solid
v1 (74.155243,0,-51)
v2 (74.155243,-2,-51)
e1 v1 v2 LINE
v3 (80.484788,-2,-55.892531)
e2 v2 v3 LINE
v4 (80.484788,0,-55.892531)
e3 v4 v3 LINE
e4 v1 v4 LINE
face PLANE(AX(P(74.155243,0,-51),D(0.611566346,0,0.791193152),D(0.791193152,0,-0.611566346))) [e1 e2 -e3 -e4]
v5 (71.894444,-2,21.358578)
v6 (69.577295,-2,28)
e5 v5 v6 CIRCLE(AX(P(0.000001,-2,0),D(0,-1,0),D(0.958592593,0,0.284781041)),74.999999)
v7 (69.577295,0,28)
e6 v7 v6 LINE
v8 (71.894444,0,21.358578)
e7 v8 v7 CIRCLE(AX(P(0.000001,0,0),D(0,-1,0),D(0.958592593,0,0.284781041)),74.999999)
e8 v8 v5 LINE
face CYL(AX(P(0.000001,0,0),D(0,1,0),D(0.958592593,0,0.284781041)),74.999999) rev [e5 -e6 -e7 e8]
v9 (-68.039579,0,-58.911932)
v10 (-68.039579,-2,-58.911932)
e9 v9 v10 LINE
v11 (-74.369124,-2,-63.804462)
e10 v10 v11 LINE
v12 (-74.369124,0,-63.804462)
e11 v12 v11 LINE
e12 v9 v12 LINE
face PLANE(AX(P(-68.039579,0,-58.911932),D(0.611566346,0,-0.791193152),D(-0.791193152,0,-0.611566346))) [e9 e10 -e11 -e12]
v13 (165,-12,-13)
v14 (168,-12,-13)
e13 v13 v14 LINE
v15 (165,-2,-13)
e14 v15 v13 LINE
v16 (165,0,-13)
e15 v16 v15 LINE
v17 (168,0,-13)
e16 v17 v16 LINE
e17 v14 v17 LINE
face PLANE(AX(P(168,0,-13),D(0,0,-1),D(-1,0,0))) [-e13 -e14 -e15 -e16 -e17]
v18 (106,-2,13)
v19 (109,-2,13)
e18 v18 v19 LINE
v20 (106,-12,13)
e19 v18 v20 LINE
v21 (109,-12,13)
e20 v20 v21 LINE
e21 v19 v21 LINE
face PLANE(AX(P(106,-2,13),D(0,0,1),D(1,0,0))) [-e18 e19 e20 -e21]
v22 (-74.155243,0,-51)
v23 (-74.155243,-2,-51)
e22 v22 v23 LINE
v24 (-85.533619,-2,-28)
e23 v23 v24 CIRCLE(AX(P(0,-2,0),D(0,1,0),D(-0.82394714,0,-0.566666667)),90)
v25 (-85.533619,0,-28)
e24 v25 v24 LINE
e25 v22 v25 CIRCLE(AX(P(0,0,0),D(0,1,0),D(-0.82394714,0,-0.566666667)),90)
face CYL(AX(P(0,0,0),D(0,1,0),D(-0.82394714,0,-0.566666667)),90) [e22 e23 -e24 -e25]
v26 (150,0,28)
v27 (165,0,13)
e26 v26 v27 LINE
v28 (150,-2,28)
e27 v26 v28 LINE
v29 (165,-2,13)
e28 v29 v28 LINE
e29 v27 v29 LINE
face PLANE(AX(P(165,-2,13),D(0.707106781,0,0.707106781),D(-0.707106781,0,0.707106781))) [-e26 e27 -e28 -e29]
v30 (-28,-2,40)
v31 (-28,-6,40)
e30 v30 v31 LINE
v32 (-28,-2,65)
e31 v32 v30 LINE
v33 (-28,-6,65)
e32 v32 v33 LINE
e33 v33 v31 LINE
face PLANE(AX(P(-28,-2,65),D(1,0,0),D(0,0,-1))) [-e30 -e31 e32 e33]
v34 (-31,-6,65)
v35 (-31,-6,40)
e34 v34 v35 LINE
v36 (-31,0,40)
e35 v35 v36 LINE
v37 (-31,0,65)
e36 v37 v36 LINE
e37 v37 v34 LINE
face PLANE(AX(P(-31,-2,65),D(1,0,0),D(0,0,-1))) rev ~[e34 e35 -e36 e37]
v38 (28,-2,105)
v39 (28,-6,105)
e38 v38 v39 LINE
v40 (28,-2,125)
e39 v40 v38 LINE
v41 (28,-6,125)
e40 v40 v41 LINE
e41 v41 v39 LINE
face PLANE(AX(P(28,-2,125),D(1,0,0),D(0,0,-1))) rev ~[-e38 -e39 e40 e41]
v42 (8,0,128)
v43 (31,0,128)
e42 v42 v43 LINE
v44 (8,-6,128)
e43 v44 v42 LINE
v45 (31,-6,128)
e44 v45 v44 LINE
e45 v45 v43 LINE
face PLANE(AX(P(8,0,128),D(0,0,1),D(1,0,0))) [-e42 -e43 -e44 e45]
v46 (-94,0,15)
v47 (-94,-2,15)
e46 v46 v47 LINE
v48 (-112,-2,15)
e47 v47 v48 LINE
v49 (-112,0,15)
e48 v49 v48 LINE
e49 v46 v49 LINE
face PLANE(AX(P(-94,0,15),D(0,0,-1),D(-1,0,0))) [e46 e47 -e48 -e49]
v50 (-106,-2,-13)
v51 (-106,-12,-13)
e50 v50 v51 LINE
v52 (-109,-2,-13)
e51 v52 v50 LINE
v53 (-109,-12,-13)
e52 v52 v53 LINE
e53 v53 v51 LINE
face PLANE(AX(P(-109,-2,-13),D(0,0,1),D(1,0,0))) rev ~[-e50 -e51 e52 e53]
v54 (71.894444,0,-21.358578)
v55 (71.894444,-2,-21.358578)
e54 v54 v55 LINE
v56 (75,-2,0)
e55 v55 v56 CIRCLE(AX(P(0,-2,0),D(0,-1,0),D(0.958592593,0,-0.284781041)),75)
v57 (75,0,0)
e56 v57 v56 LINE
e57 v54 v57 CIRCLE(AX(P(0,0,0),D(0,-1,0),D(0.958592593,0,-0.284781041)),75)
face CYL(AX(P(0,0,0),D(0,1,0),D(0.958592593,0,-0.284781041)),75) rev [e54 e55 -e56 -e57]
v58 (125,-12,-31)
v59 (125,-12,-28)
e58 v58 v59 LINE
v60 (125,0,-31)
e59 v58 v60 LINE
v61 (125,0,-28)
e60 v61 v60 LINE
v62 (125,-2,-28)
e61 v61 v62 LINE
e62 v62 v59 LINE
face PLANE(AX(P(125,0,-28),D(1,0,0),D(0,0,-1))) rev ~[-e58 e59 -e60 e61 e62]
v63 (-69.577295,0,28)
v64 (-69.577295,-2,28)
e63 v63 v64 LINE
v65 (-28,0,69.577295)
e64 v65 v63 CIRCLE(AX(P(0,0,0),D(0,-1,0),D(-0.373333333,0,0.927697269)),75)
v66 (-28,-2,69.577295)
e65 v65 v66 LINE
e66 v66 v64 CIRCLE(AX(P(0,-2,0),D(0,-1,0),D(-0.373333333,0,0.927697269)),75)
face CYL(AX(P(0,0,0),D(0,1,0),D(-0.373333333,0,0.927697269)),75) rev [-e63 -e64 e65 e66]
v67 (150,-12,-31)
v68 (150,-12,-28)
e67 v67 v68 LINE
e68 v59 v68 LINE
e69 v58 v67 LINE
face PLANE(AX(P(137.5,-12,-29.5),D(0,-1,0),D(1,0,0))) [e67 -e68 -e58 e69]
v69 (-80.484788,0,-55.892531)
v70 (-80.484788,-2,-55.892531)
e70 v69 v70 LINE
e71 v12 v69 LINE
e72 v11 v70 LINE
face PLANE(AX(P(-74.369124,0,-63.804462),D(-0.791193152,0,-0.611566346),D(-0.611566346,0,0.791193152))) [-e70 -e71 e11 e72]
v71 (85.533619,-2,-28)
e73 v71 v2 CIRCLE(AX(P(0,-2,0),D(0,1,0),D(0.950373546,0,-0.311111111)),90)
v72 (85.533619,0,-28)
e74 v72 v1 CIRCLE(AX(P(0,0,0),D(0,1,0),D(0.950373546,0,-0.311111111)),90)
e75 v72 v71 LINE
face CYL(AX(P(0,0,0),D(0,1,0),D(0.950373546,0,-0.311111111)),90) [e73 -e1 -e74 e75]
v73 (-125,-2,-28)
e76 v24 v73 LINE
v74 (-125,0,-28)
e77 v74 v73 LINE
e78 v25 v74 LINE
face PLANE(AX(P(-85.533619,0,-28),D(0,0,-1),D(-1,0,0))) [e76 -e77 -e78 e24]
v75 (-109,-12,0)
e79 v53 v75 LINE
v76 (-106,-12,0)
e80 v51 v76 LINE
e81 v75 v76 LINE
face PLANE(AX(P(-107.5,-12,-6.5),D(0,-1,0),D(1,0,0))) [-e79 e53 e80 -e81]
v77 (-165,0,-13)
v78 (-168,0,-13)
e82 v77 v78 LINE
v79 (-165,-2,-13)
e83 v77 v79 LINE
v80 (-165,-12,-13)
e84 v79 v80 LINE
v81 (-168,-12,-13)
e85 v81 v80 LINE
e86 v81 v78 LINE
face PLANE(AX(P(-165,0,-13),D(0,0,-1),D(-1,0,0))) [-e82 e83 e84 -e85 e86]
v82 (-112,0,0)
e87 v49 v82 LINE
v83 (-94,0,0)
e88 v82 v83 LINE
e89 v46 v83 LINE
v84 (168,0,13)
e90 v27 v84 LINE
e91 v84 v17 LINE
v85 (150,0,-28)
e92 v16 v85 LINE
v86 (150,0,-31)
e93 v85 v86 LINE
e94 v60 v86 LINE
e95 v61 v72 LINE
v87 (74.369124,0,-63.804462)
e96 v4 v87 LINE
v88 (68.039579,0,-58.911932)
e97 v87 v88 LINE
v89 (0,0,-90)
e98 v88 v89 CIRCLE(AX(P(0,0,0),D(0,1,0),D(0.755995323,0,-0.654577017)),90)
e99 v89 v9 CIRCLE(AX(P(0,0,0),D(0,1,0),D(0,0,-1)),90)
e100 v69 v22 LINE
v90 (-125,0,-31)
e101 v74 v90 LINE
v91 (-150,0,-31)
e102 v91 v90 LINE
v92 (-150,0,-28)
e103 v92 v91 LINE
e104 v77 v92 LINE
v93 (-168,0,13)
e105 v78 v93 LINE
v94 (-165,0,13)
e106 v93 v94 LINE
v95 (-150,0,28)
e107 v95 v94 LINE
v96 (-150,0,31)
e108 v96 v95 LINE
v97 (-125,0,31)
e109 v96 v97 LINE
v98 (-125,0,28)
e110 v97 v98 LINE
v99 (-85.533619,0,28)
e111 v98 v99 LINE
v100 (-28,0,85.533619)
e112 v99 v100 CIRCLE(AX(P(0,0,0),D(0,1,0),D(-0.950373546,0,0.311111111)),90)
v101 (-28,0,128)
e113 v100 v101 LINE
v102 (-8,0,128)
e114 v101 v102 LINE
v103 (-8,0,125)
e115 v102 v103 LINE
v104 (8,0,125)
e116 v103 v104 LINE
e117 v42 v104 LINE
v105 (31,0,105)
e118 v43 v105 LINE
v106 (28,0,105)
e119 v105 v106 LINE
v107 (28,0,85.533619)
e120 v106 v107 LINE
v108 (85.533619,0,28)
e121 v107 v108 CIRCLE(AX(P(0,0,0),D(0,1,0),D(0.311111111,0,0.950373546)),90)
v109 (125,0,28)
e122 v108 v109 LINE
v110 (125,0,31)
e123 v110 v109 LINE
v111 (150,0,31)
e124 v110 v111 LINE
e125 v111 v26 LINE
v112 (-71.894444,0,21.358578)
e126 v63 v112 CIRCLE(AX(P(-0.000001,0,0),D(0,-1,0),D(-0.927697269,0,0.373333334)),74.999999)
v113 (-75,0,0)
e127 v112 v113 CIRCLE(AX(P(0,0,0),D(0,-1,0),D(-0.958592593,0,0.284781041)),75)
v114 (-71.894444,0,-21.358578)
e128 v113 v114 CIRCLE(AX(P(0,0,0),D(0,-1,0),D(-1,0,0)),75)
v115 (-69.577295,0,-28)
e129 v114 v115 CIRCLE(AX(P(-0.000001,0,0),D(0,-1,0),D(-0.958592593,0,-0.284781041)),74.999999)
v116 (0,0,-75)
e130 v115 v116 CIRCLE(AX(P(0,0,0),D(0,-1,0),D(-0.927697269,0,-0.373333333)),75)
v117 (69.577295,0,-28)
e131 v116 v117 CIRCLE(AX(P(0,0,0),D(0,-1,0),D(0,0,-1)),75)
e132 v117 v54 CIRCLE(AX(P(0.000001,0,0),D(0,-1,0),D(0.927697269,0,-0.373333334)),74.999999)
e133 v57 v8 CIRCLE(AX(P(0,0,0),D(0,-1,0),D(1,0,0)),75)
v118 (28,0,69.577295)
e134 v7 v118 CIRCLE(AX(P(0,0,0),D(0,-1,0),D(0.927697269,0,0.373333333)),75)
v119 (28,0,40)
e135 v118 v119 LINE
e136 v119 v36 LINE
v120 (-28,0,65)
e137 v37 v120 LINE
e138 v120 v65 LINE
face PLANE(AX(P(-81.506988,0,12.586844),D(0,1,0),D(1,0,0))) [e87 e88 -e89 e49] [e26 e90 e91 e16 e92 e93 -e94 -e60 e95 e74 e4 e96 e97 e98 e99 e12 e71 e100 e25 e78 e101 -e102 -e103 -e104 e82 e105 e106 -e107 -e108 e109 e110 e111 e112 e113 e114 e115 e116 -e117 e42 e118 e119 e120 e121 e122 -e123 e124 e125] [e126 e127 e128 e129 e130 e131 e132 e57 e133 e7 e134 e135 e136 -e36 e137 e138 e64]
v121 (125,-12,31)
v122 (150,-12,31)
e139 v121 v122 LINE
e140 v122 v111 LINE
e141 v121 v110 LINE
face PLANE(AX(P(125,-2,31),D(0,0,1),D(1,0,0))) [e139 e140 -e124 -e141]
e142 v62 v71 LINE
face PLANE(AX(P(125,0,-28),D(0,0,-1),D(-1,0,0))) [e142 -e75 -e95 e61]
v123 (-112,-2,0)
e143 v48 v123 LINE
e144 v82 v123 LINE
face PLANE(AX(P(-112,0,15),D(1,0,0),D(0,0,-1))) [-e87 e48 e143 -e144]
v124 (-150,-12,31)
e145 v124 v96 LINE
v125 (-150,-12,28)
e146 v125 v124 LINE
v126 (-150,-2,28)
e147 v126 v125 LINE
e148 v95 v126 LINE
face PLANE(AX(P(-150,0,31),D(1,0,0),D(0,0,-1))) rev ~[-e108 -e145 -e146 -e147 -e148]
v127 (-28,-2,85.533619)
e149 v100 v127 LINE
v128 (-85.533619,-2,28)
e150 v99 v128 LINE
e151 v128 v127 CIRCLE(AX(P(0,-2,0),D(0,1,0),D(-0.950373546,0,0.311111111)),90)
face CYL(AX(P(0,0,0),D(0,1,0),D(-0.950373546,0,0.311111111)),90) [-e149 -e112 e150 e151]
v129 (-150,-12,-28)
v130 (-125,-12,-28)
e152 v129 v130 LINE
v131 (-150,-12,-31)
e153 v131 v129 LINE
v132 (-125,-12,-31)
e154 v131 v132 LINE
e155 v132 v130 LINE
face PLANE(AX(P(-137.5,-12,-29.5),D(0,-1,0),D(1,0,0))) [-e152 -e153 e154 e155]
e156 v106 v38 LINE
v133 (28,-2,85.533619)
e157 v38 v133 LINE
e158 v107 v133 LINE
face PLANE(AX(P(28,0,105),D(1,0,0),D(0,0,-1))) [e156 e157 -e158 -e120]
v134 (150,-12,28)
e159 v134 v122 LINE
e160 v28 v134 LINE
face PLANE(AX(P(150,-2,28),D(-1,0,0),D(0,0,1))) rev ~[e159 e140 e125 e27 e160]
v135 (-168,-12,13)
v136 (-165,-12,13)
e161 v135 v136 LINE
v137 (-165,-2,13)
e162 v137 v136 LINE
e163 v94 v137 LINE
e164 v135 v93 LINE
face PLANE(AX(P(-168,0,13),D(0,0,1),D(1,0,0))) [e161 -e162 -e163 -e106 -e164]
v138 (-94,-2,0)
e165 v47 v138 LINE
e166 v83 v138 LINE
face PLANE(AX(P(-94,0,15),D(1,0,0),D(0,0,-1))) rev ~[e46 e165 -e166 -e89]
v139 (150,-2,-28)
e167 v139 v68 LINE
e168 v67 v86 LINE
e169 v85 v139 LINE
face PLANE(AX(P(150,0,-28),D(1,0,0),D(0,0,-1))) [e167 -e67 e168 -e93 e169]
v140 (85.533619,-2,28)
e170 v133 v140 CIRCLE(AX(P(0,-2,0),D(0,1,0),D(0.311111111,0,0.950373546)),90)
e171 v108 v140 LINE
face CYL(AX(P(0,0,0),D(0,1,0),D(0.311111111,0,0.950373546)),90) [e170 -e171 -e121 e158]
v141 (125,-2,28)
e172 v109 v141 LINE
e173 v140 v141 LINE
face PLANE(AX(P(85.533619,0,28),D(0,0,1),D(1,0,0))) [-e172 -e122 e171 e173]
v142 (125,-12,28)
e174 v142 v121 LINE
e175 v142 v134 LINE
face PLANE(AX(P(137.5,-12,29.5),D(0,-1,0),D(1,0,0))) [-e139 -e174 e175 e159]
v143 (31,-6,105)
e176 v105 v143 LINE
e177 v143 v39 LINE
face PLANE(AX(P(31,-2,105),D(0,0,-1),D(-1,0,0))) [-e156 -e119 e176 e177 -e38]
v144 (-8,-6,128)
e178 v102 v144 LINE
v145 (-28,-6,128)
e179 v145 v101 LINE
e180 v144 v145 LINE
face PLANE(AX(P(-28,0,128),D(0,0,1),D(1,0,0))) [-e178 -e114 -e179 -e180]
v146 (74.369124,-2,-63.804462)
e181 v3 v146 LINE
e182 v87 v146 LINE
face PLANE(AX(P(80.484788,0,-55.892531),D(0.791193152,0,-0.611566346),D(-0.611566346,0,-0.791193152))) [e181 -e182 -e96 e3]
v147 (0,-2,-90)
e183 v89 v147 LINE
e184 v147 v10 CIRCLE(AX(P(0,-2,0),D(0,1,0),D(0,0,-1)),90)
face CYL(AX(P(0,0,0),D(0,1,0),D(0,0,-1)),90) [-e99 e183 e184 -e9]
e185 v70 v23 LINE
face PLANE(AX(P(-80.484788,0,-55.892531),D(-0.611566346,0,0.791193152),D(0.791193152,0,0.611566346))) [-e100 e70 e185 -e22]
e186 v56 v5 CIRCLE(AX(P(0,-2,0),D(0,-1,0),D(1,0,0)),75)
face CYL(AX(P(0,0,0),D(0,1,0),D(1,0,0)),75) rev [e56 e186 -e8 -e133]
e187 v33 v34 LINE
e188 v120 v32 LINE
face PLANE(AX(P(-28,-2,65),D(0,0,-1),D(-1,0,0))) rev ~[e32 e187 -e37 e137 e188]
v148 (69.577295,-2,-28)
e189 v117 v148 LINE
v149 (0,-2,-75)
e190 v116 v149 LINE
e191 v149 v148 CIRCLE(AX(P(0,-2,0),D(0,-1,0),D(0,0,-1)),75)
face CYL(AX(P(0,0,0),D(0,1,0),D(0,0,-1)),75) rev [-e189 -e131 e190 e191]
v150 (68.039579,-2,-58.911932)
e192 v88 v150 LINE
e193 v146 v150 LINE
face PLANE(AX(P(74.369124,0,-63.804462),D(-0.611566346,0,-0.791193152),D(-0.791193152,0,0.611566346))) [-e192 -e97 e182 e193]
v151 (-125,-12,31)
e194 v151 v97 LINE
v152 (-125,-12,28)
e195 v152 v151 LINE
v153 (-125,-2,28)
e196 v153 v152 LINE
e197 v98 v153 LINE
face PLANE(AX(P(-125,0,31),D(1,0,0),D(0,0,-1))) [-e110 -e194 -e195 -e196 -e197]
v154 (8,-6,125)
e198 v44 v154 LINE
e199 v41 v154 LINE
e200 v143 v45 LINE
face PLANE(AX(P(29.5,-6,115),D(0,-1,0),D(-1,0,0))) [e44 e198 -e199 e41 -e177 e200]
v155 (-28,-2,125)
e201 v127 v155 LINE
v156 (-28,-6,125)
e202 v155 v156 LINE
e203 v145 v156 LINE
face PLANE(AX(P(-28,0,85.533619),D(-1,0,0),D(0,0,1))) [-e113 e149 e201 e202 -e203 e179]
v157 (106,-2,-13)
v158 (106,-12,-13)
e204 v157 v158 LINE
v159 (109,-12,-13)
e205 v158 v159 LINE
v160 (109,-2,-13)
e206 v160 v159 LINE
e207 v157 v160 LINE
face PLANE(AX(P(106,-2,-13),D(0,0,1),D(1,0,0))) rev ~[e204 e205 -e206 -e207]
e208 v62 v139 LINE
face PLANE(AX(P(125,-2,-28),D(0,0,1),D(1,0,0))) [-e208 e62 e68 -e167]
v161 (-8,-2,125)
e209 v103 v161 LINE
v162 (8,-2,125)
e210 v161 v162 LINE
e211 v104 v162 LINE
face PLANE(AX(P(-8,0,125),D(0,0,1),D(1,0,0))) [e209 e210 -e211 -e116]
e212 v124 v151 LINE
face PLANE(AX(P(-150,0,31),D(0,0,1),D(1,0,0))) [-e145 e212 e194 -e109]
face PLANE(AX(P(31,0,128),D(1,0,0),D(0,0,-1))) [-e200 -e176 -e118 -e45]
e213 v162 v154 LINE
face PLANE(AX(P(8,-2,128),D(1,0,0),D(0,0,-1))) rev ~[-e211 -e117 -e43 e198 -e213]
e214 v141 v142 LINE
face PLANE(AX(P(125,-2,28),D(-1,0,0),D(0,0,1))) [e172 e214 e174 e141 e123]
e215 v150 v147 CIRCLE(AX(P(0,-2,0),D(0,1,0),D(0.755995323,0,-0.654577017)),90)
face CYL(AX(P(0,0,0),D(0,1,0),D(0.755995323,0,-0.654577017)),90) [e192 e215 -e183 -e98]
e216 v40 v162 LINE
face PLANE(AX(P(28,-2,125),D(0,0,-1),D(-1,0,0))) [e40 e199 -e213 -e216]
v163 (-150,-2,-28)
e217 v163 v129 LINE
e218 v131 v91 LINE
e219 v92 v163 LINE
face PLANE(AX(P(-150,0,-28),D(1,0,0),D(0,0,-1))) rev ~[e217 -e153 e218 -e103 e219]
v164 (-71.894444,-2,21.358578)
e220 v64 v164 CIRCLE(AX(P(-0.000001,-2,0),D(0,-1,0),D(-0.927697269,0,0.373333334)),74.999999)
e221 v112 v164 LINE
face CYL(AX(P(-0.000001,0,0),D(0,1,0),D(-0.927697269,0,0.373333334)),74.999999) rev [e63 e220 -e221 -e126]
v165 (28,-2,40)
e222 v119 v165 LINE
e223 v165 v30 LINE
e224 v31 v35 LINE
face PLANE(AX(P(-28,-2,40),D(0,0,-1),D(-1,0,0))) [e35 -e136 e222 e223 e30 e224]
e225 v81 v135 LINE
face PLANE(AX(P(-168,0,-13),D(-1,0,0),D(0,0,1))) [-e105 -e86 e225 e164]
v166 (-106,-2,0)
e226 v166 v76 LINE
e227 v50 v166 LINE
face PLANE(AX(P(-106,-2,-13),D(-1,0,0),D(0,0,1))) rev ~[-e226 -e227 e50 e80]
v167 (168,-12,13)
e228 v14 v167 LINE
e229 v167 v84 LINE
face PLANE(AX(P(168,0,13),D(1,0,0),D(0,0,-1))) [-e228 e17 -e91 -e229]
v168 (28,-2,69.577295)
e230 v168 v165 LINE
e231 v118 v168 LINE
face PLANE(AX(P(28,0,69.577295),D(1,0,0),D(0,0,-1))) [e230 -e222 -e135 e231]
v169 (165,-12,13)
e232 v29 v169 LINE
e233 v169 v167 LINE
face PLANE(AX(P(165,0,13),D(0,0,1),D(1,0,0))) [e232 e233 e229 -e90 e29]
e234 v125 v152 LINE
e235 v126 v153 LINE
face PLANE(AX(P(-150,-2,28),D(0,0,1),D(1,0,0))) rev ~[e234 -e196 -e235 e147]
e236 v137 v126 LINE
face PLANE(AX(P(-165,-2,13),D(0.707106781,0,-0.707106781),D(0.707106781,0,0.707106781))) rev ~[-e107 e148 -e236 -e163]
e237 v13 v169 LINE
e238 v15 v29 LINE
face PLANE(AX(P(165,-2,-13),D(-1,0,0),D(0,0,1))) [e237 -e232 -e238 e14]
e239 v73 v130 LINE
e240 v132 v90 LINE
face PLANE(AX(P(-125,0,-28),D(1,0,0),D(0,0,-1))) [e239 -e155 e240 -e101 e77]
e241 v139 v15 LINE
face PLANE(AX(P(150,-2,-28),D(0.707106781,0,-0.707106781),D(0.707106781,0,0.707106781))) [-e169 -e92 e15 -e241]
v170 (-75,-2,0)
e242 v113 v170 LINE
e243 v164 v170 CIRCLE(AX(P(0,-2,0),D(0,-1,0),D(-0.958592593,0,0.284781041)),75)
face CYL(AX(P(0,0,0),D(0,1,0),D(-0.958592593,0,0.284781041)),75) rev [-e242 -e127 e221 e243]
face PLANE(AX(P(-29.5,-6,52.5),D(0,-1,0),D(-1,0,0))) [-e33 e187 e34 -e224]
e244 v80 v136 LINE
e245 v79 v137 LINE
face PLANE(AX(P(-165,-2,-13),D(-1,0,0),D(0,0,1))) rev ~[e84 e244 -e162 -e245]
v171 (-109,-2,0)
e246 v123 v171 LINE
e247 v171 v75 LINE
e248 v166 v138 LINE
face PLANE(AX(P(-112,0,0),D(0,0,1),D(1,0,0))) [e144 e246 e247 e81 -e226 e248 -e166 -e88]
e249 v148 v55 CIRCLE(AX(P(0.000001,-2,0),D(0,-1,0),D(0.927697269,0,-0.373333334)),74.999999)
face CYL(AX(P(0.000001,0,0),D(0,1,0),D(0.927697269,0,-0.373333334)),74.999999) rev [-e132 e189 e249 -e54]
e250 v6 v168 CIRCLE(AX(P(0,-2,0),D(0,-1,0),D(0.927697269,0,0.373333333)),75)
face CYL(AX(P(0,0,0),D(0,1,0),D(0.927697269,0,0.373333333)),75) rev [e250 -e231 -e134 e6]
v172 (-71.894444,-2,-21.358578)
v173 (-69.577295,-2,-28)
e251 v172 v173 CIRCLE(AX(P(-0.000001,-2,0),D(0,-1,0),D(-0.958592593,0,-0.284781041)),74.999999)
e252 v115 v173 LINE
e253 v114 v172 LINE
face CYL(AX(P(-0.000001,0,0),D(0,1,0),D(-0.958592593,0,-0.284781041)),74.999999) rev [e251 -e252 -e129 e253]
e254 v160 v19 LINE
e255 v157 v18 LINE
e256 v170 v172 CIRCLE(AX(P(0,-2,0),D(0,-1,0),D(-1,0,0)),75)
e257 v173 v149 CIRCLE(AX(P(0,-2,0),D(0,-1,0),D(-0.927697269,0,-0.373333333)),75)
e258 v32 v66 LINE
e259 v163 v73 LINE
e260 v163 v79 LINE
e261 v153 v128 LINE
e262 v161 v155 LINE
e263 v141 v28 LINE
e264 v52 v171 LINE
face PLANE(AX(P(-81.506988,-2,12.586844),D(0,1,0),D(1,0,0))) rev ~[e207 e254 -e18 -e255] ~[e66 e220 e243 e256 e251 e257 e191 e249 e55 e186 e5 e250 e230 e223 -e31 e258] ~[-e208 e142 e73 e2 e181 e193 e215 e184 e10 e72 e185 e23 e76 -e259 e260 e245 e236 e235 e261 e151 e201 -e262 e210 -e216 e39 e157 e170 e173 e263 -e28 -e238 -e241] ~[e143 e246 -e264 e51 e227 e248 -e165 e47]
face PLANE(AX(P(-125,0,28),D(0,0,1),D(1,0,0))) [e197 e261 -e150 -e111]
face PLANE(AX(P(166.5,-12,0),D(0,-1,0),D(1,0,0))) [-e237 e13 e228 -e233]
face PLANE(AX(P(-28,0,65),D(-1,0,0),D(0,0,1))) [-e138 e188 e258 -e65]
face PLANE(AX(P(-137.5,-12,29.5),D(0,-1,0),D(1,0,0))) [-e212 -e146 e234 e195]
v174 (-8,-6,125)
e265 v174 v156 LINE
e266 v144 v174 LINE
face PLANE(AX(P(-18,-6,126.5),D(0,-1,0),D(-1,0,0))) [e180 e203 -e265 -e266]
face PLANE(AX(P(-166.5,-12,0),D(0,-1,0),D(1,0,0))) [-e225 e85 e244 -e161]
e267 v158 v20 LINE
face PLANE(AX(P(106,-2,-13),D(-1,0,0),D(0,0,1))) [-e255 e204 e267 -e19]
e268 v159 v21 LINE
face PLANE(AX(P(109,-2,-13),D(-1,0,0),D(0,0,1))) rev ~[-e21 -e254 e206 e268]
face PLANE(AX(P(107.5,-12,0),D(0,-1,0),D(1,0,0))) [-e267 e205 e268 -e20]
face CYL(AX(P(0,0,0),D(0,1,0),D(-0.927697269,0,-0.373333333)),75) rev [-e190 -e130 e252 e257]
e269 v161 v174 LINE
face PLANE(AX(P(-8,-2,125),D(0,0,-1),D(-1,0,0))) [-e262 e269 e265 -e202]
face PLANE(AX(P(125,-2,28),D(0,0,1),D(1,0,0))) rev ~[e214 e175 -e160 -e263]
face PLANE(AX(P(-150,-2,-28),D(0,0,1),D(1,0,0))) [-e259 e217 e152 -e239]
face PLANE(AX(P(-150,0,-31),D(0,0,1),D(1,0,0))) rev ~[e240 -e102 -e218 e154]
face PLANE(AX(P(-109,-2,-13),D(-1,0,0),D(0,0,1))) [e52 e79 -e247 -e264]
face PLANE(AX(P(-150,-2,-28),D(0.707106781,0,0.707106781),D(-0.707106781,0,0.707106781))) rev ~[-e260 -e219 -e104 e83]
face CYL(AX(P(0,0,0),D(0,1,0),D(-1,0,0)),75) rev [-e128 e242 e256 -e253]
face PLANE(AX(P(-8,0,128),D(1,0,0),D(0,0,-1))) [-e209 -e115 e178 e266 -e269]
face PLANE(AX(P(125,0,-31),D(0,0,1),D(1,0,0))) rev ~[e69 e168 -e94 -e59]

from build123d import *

# Parameters (mm, degrees)
SKETCH1_W           = 25
SKETCH1_H           = 3
SKETCH1_W_2         = 3
SKETCH1_H_2         = 9
SKETCH1_W_3         = 4
SKETCH1_H_3         = 4
SKETCH1_H_4         = 15
SKETCH1_W_4         = 20
SKETCH1_H_5         = 25
SKETCH1_H_6         = 13
BOSS_EXTRUDE3_DEPTH = 2
SKETCH2_W           = 25
SKETCH2_H           = 3
SKETCH2_W_2         = 3
SKETCH2_H_2         = 26
SKETCH2_H_3         = 13
BOSS_EXTRUDE4_DEPTH = 10
SKETCH3_W           = 3
SKETCH3_H           = 25
SKETCH3_H_2         = 20
SKETCH3_W_2         = 23
SKETCH3_H_3         = 3
SKETCH3_W_3         = 20
BOSS_EXTRUDE5_DEPTH = 4
CUT_EXTRUDE1_DEPTH  = 10


with BuildPart() as part:
    # Sketch1 → Boss-Extrude3 (new body)
    with BuildSketch(Plane(origin=(0, 0, 0), x_dir=(1, 0, 0), z_dir=(0, 1, 0))):
        with BuildLine():
            ThreePointArc((-90, 0), (-88.904443084, -14), (-85.644444444, -27.65916007))
            ThreePointArc((-85.644444444, -27.65916007), (-78.335965046, -25.45486768), (-71.894444444, -21.35857809))
            ThreePointArc((-71.894444444, -21.35857809), (-74.219550434, -10.791586229), (-75, 0))
            Line((-75, 0), (-90, 0))
        make_face()
        with BuildLine():
            ThreePointArc((-85.644444444, 27.65916007), (-88.904443084, 14), (-90, 0))
            Line((-90, 0), (-75, 0))
            ThreePointArc((-75, 0), (-74.219550434, 10.791586229), (-71.894444444, 21.35857809))
            ThreePointArc((-71.894444444, 21.35857809), (-78.335965046, 25.45486768), (-85.644444444, 27.65916007))
        make_face()
        with BuildLine():
            ThreePointArc((-90, 0), (-88.904443084, -14), (-85.644444444, -27.65916007))
            ThreePointArc((-85.644444444, -27.65916007), (-78.335965046, -25.45486768), (-71.894444444, -21.35857809))
            ThreePointArc((-71.894444444, -21.35857809), (-74.219550434, -10.791586229), (-75, 0))
            Line((-75, 0), (-90, 0))
        make_face()
        with BuildLine():
            ThreePointArc((-85.644444444, 27.65916007), (-88.904443084, 14), (-90, 0))
            Line((-90, 0), (-75, 0))
            ThreePointArc((-75, 0), (-74.219550434, 10.791586229), (-71.894444444, 21.35857809))
            ThreePointArc((-71.894444444, 21.35857809), (-78.335965046, 25.45486768), (-85.644444444, 27.65916007))
        make_face()
        with BuildLine():
            ThreePointArc((-85.644444444, -27.65916007), (-85.589201448, -27.829635202), (-85.533619121, -28))
            Line((-85.533619121, -28), (-69.577295147, -28))
            ThreePointArc((-69.577295147, -28), (-70.813772651, -24.706468849), (-71.894444444, -21.35857809))
            ThreePointArc((-71.894444444, -21.35857809), (-78.335965046, -25.45486768), (-85.644444444, -27.65916007))
        make_face()
        with BuildLine():
            ThreePointArc((-85.533619121, -28), (-63.639610307, -63.639610307), (-28, -85.533619121))
            Line((-28, -85.533619121), (-28, -69.577295147))
            ThreePointArc((-28, -69.577295147), (-53.033008589, -53.033008589), (-69.577295147, -28))
            Line((-69.577295147, -28), (-85.533619121, -28))
        make_face()
        with BuildLine():
            ThreePointArc((-85.533619121, 28), (-85.589201448, 27.829635202), (-85.644444444, 27.65916007))
            ThreePointArc((-85.644444444, 27.65916007), (-78.335965046, 25.45486768), (-71.894444444, 21.35857809))
            ThreePointArc((-71.894444444, 21.35857809), (-70.813772651, 24.706468849), (-69.577295147, 28))
            Line((-69.577295147, 28), (-85.533619121, 28))
        make_face()
        with BuildLine():
            ThreePointArc((-69.577295147, 28), (-41.982139059, 62.149014473), (0, 75))
            Line((0, 75), (0, 90))
            ThreePointArc((0, 90), (-37.402714895, 81.859861461), (-68.039579102, 58.911931521))
            Line((-68.039579102, 58.911931521), (-74.155242566, 51))
            ThreePointArc((-74.155242566, 51), (-80.668352758, 39.907604078), (-85.533619121, 28))
            Line((-85.533619121, 28), (-69.577295147, 28))
        make_face()
        with BuildLine():
            Line((-80.484787783, 55.892530771), (-74.155242566, 51))
            ThreePointArc((-74.155242566, 51), (-71.207383693, 55.040971172), (-68.039579102, 58.911931521))
            Line((-68.039579102, 58.911931521), (-74.369124319, 63.804462292))
            Line((-74.369124319, 63.804462292), (-80.484787783, 55.892530771))
        make_face()
        with BuildLine():
            Line((0, 90), (0, 75))
            ThreePointArc((0, 75), (41.982139059, 62.149014473), (69.577295147, 28))
            Line((69.577295147, 28), (85.533619121, 28))
            ThreePointArc((85.533619121, 28), (80.668352758, 39.907604078), (74.155242566, 51))
            Line((74.155242566, 51), (68.039579102, 58.911931521))
            ThreePointArc((68.039579102, 58.911931521), (37.402714895, 81.859861461), (0, 90))
        make_face()
        with BuildLine():
            ThreePointArc((68.039579102, 58.911931521), (71.207383693, 55.040971172), (74.155242566, 51))
            Line((74.155242566, 51), (80.484787783, 55.892530771))
            Line((80.484787783, 55.892530771), (74.369124319, 63.804462292))
            Line((74.369124319, 63.804462292), (68.039579102, 58.911931521))
        make_face()
        with BuildLine():
            ThreePointArc((71.894444444, 21.35857809), (78.335965046, 25.45486768), (85.644444444, 27.65916007))
            ThreePointArc((85.644444444, 27.65916007), (85.589201448, 27.829635202), (85.533619121, 28))
            Line((85.533619121, 28), (69.577295147, 28))
            ThreePointArc((69.577295147, 28), (70.813772651, 24.706468849), (71.894444444, 21.35857809))
        make_face()
        with BuildLine():
            Line((68.039579102, 58.911931521), (74.155242566, 51))
            ThreePointArc((74.155242566, 51), (71.207383693, 55.040971172), (68.039579102, 58.911931521))
        make_face()
        with BuildLine():
            ThreePointArc((-68.039579102, 58.911931521), (-71.207383693, 55.040971172), (-74.155242566, 51))
            Line((-74.155242566, 51), (-68.039579102, 58.911931521))
        make_face()
        with BuildLine():
            ThreePointArc((71.894444444, -21.35857809), (78.335965046, -25.45486768), (85.644444444, -27.65916007))
            ThreePointArc((85.644444444, -27.65916007), (88.904443084, -14), (90, 0))
            Line((90, 0), (75, 0))
            ThreePointArc((75, 0), (74.219550434, -10.791586229), (71.894444444, -21.35857809))
        make_face()
        with BuildLine():
            Line((75, 0), (90, 0))
            ThreePointArc((90, 0), (88.904443084, 14), (85.644444444, 27.65916007))
            ThreePointArc((85.644444444, 27.65916007), (78.335965046, 25.45486768), (71.894444444, 21.35857809))
            ThreePointArc((71.894444444, 21.35857809), (74.219550434, 10.791586229), (75, 0))
        make_face()
        with BuildLine():
            ThreePointArc((71.894444444, -21.35857809), (78.335965046, -25.45486768), (85.644444444, -27.65916007))
            ThreePointArc((85.644444444, -27.65916007), (88.904443084, -14), (90, 0))
            Line((90, 0), (75, 0))
            ThreePointArc((75, 0), (74.219550434, -10.791586229), (71.894444444, -21.35857809))
        make_face()
        with BuildLine():
            Line((75, 0), (90, 0))
            ThreePointArc((90, 0), (88.904443084, 14), (85.644444444, 27.65916007))
            ThreePointArc((85.644444444, 27.65916007), (78.335965046, 25.45486768), (71.894444444, 21.35857809))
            ThreePointArc((71.894444444, 21.35857809), (74.219550434, 10.791586229), (75, 0))
        make_face()
        with BuildLine():
            Line((69.577295147, -28), (85.533619121, -28))
            ThreePointArc((85.533619121, -28), (85.589201448, -27.829635202), (85.644444444, -27.65916007))
            ThreePointArc((85.644444444, -27.65916007), (78.335965046, -25.45486768), (71.894444444, -21.35857809))
            ThreePointArc((71.894444444, -21.35857809), (70.813772651, -24.706468849), (69.577295147, -28))
        make_face()
        with BuildLine():
            Line((28, -69.577295147), (28, -85.533619121))
            ThreePointArc((28, -85.533619121), (63.639610307, -63.639610307), (85.533619121, -28))
            Line((85.533619121, -28), (69.577295147, -28))
            ThreePointArc((69.577295147, -28), (53.033008589, -53.033008589), (28, -69.577295147))
        make_face()
        with BuildLine():
            ThreePointArc((-28, -85.533619121), (-14.176993318, -88.876390906), (0, -90))
            Line((0, -90), (0, -75))
            ThreePointArc((0, -75), (-14.260134361, -73.631844796), (-28, -69.577295147))
            Line((-28, -69.577295147), (-28, -85.533619121))
        make_face()
        with BuildLine():
            Line((0, -75), (0, -90))
            ThreePointArc((0, -90), (14.176993318, -88.876390906), (28, -85.533619121))
            Line((28, -85.533619121), (28, -69.577295147))
            ThreePointArc((28, -69.577295147), (14.260134361, -73.631844796), (0, -75))
        make_face()
        with BuildLine():
            Line((-165, 4), (-117.712812921, 4))
            ThreePointArc((-117.712812921, 4), (-115.733245539, 11.036307083), (-112, 17.320508076))
            Line((-112, 17.320508076), (-112, 28))
            Line((-112, 28), (-125, 28))
            Line((-125, 28), (-150, 28))
            Line((-150, 28), (-165, 28))
            Line((-165, 28), (-165, 13))
            Line((-165, 13), (-165, 4))
        make_face()
        with BuildLine():
            ThreePointArc((-112, 17.320508076), (-102.227546235, 25.189027632), (-90, 28))
            Line((-90, 28), (-112, 28))
            Line((-112, 28), (-112, 17.320508076))
        make_face()
        with Locations((-137.5, 29.5)):
            Rectangle(SKETCH1_W, SKETCH1_H)
        with BuildLine():
            Line((-165, 0), (-118, 0))
            ThreePointArc((-118, 0), (-117.928110944, 2.00514815), (-117.712812921, 4))
            Line((-117.712812921, 4), (-165, 4))
            Line((-165, 4), (-165, 0))
        make_face()
        with BuildLine():
            Line((-165, -15), (-113.643180835, -15))
            ThreePointArc((-113.643180835, -15), (-116.888743587, -7.809959559), (-118, 0))
            Line((-118, 0), (-165, 0))
            Line((-165, 0), (-165, -13))
            Line((-165, -13), (-165, -15))
        make_face()
        Polygon((-168, -13), (-165, -13), (-165, 0), (-165, 4), (-165, 13), (-168, 13), align=None)
        with BuildLine():
            Line((-118, 0), (-112, 0))
            Line((-112, 0), (-112, 4))
            Line((-112, 4), (-117.712812921, 4))
            ThreePointArc((-117.712812921, 4), (-117.928110944, 2.00514815), (-118, 0))
        make_face()
        with BuildLine():
            Line((-117.712812921, 4), (-112, 4))
            Line((-112, 4), (-112, 13))
            Line((-112, 13), (-112, 17.320508076))
            ThreePointArc((-112, 17.320508076), (-115.733245539, 11.036307083), (-117.712812921, 4))
        make_face()
        with BuildLine():
            Line((-113.643180835, -15), (-112, -15))
            Line((-112, -15), (-112, 0))
            Line((-112, 0), (-118, 0))
            ThreePointArc((-118, 0), (-116.888743587, -7.809959559), (-113.643180835, -15))
        make_face()
        with Locations((-110.5, 8.5)):
            Rectangle(SKETCH1_W_2, SKETCH1_H_2)
        with BuildLine():
            Line((-94, 4), (-90, 4))
            Line((-90, 4), (-90, 28))
            ThreePointArc((-90, 28), (-102.227546235, 25.189027632), (-112, 17.320508076))
            Line((-112, 17.320508076), (-112, 13))
            Line((-112, 13), (-109, 13))
            Line((-109, 13), (-109, 4))
            Line((-109, 4), (-94, 4))
        make_face()
        with BuildLine():
            Line((-90, -15), (-90, -28))
            ThreePointArc((-90, -28), (-87.815564372, -27.914659965), (-85.644444444, -27.65916007))
            ThreePointArc((-85.644444444, -27.65916007), (-88.904443084, -14), (-90, 0))
            Line((-90, 0), (-90, -15))
        make_face()
        with BuildLine():
            Line((-90, 4), (-90, 0))
            ThreePointArc((-90, 0), (-88.904443084, 14), (-85.644444444, 27.65916007))
            ThreePointArc((-85.644444444, 27.65916007), (-87.815564372, 27.914659965), (-90, 28))
            Line((-90, 28), (-90, 4))
        make_face()
        Polygon((-112, 0), (-94, 0), (-94, 4), (-109, 4), (-112, 4), align=None)
        with Locations((-92, 2)):
            Rectangle(SKETCH1_W_3, SKETCH1_H_3)
        with Locations((-92, -7.5)):
            Rectangle(SKETCH1_W_3, SKETCH1_H_4)
        with BuildLine():
            Line((-125, -28), (-112, -28))
            Line((-112, -28), (-112, -17.320508076))
            ThreePointArc((-112, -17.320508076), (-112.851065153, -16.181125467), (-113.643180835, -15))
            Line((-113.643180835, -15), (-165, -15))
            Line((-165, -15), (-165, -28))
            Line((-165, -28), (-150, -28))
            Line((-150, -28), (-125, -28))
        make_face()
        with Locations((-137.5, -29.5)):
            Rectangle(SKETCH1_W, SKETCH1_H)
        with BuildLine():
            ThreePointArc((-113.643180835, -15), (-112.851065153, -16.181125467), (-112, -17.320508076))
            Line((-112, -17.320508076), (-112, -15))
            Line((-112, -15), (-113.643180835, -15))
        make_face()
        with BuildLine():
            ThreePointArc((-112, -17.320508076), (-102.227546235, -25.189027632), (-90, -28))
            Line((-90, -28), (-90, -15))
            Line((-90, -15), (-94, -15))
            Line((-94, -15), (-112, -15))
            Line((-112, -15), (-112, -17.320508076))
        make_face()
        with BuildLine():
            Line((-112, -28), (-90, -28))
            ThreePointArc((-90, -28), (-102.227546235, -25.189027632), (-112, -17.320508076))
            Line((-112, -17.320508076), (-112, -28))
        make_face()
        with BuildLine():
            Line((-90, -15), (-90, -28))
            ThreePointArc((-90, -28), (-87.815564372, -27.914659965), (-85.644444444, -27.65916007))
            ThreePointArc((-85.644444444, -27.65916007), (-88.904443084, -14), (-90, 0))
            Line((-90, 0), (-90, -15))
        make_face()
        with BuildLine():
            Line((-90, 4), (-90, 0))
            ThreePointArc((-90, 0), (-88.904443084, 14), (-85.644444444, 27.65916007))
            ThreePointArc((-85.644444444, 27.65916007), (-87.815564372, 27.914659965), (-90, 28))
            Line((-90, 28), (-90, 4))
        make_face()
        with BuildLine():
            Line((-90, -28), (-85.533619121, -28))
            ThreePointArc((-85.533619121, -28), (-85.589201448, -27.829635202), (-85.644444444, -27.65916007))
            ThreePointArc((-85.644444444, -27.65916007), (-87.815564372, -27.914659965), (-90, -28))
        make_face()
        with BuildLine():
            ThreePointArc((28, -85.533619121), (14.176993318, -88.876390906), (0, -90))
            ThreePointArc((0, -90), (-14.176993318, -88.876390906), (-28, -85.533619121))
            Line((-28, -85.533619121), (-28, -125))
            Line((-28, -125), (-8, -125))
            Line((-8, -125), (8, -125))
            Line((8, -125), (28, -125))
            Line((28, -125), (28, -105))
            Line((28, -105), (28, -85.533619121))
        make_face()
        with Locations((-18, -126.5)):
            Rectangle(SKETCH1_W_4, SKETCH1_H)
        with Locations((18, -126.5)):
            Rectangle(SKETCH1_W_4, SKETCH1_H)
        Polygon((31, -105), (28, -105), (28, -125), (28, -128), (31, -128), align=None)
        with BuildLine():
            ThreePointArc((-28, -69.577295147), (-14.260134361, -73.631844796), (0, -75))
            Line((0, -75), (0, -40))
            Line((0, -40), (-28, -40))
            Line((-28, -40), (-28, -65))
            Line((-28, -65), (-28, -69.577295147))
        make_face()
        with BuildLine():
            Line((0, -40), (0, -75))
            ThreePointArc((0, -75), (14.260134361, -73.631844796), (28, -69.577295147))
            Line((28, -69.577295147), (28, -40))
            Line((28, -40), (0, -40))
        make_face()
        with Locations((-29.5, -52.5)):
            Rectangle(SKETCH1_W_2, SKETCH1_H_5)
        with BuildLine():
            ThreePointArc((85.644444444, -27.65916007), (87.815564372, -27.914659965), (90, -28))
            Line((90, -28), (90, 0))
            ThreePointArc((90, 0), (88.904443084, -14), (85.644444444, -27.65916007))
        make_face()
        with BuildLine():
            ThreePointArc((85.644444444, 27.65916007), (88.904443084, 14), (90, 0))
            Line((90, 0), (90, 28))
            ThreePointArc((90, 28), (87.815564372, 27.914659965), (85.644444444, 27.65916007))
        make_face()
        with BuildLine():
            ThreePointArc((85.644444444, -27.65916007), (87.815564372, -27.914659965), (90, -28))
            Line((90, -28), (90, 0))
            ThreePointArc((90, 0), (88.904443084, -14), (85.644444444, -27.65916007))
        make_face()
        with BuildLine():
            ThreePointArc((85.644444444, 27.65916007), (88.904443084, 14), (90, 0))
            Line((90, 0), (90, 28))
            ThreePointArc((90, 28), (87.815564372, 27.914659965), (85.644444444, 27.65916007))
        make_face()
        with BuildLine():
            ThreePointArc((85.644444444, 27.65916007), (87.815564372, 27.914659965), (90, 28))
            Line((90, 28), (85.533619121, 28))
            ThreePointArc((85.533619121, 28), (85.589201448, 27.829635202), (85.644444444, 27.65916007))
        make_face()
        with BuildLine():
            Line((90, 28), (90, 0))
            Line((90, 0), (107, 0))
            Line((107, 0), (107, 13))
            Line((107, 13), (110, 13))
            Line((110, 13), (110, 0))
            Line((110, 0), (118, 0))
            ThreePointArc((118, 0), (109.798989873, 19.798989873), (90, 28))
        make_face()
        with BuildLine():
            ThreePointArc((90, 28), (109.798989873, 19.798989873), (118, 0))
            Line((118, 0), (165, 0))
            Line((165, 0), (165, 13))
            Line((165, 13), (165, 28))
            Line((165, 28), (150, 28))
            Line((150, 28), (125, 28))
            Line((125, 28), (90, 28))
        make_face()
        with BuildLine():
            ThreePointArc((85.644444444, -27.65916007), (85.589201448, -27.829635202), (85.533619121, -28))
            Line((85.533619121, -28), (90, -28))
            ThreePointArc((90, -28), (87.815564372, -27.914659965), (85.644444444, -27.65916007))
        make_face()
        with BuildLine():
            Line((90, 0), (90, -28))
            ThreePointArc((90, -28), (109.798989873, -19.798989873), (118, 0))
            Line((118, 0), (110, 0))
            Line((110, 0), (110, -13))
            Line((110, -13), (107, -13))
            Line((107, -13), (107, 0))
            Line((107, 0), (90, 0))
        make_face()
        with BuildLine():
            ThreePointArc((118, 0), (109.798989873, -19.798989873), (90, -28))
            Line((90, -28), (125, -28))
            Line((125, -28), (150, -28))
            Line((150, -28), (165, -28))
            Line((165, -28), (165, -13))
            Line((165, -13), (165, 0))
            Line((165, 0), (118, 0))
        make_face()
        Polygon((165, 13), (165, 0), (165, -13), (168, -13), (168, 13), align=None)
        with Locations((137.5, -29.5)):
            Rectangle(SKETCH1_W, SKETCH1_H)
        with Locations((137.5, 29.5)):
            Rectangle(SKETCH1_W, SKETCH1_H)
        with Locations((108.5, 6.5)):
            Rectangle(SKETCH1_W_2, SKETCH1_H_6)
        with Locations((108.5, -6.5)):
            Rectangle(SKETCH1_W_2, SKETCH1_H_6)
        with BuildLine():
            ThreePointArc((-90, 28), (-87.815564372, 27.914659965), (-85.644444444, 27.65916007))
            ThreePointArc((-85.644444444, 27.65916007), (-85.589201448, 27.829635202), (-85.533619121, 28))
            Line((-85.533619121, 28), (-90, 28))
        make_face()
    extrude(amount=-BOSS_EXTRUDE3_DEPTH)

    # Sketch2 → Boss-Extrude4 (add)
    with BuildSketch(Plane.XZ.offset(2)):
        with Locations((137.5, 29.5)):
            Rectangle(SKETCH2_W, SKETCH2_H)
        with Locations((107.5, 0)):
            Rectangle(SKETCH2_W_2, SKETCH2_H_2)
        with Locations((166.5, 0)):
            Rectangle(SKETCH2_W_2, SKETCH2_H_2)
        with Locations((137.5, -29.5)):
            Rectangle(SKETCH2_W, SKETCH2_H)
        with Locations((-166.5, 0)):
            Rectangle(SKETCH2_W_2, SKETCH2_H_2)
        with Locations((-137.5, -29.5)):
            Rectangle(SKETCH2_W, SKETCH2_H)
        with Locations((-107.5, -6.5)):
            Rectangle(SKETCH2_W_2, SKETCH2_H_3)
        with Locations((-137.5, 29.5)):
            Rectangle(SKETCH2_W, SKETCH2_H)
    extrude(amount=BOSS_EXTRUDE4_DEPTH)

    # Sketch3 → Boss-Extrude5 (add)
    with BuildSketch(Plane(origin=(0, -2, 0), x_dir=(-1, 0, 0), z_dir=(0, -1, 0))):
        with Locations((29.5, -52.5)):
            Rectangle(SKETCH3_W, SKETCH3_H)
        with Locations((-29.5, -115)):
            Rectangle(SKETCH3_W, SKETCH3_H_2)
        with Locations((-19.5, -126.5)):
            Rectangle(SKETCH3_W_2, SKETCH3_H_3)
        with Locations((18, -126.5)):
            Rectangle(SKETCH3_W_3, SKETCH3_H_3)
    extrude(amount=BOSS_EXTRUDE5_DEPTH)

    # Sketch4 → Cut-Extrude1 (cut)
    with BuildSketch(Plane.XZ.offset(2)):
        Polygon((-150, 28), (-165, 28), (-165, 13), align=None)
        Polygon((-165, -13), (-165, -28), (-150, -28), align=None)
        Polygon((165, 28), (165, 13), (150, 28), align=None)
        Polygon((165, -28), (150, -28), (165, -13), align=None)
    extrude(amount=-CUT_EXTRUDE1_DEPTH, mode=Mode.SUBTRACT)


solid = part.part
